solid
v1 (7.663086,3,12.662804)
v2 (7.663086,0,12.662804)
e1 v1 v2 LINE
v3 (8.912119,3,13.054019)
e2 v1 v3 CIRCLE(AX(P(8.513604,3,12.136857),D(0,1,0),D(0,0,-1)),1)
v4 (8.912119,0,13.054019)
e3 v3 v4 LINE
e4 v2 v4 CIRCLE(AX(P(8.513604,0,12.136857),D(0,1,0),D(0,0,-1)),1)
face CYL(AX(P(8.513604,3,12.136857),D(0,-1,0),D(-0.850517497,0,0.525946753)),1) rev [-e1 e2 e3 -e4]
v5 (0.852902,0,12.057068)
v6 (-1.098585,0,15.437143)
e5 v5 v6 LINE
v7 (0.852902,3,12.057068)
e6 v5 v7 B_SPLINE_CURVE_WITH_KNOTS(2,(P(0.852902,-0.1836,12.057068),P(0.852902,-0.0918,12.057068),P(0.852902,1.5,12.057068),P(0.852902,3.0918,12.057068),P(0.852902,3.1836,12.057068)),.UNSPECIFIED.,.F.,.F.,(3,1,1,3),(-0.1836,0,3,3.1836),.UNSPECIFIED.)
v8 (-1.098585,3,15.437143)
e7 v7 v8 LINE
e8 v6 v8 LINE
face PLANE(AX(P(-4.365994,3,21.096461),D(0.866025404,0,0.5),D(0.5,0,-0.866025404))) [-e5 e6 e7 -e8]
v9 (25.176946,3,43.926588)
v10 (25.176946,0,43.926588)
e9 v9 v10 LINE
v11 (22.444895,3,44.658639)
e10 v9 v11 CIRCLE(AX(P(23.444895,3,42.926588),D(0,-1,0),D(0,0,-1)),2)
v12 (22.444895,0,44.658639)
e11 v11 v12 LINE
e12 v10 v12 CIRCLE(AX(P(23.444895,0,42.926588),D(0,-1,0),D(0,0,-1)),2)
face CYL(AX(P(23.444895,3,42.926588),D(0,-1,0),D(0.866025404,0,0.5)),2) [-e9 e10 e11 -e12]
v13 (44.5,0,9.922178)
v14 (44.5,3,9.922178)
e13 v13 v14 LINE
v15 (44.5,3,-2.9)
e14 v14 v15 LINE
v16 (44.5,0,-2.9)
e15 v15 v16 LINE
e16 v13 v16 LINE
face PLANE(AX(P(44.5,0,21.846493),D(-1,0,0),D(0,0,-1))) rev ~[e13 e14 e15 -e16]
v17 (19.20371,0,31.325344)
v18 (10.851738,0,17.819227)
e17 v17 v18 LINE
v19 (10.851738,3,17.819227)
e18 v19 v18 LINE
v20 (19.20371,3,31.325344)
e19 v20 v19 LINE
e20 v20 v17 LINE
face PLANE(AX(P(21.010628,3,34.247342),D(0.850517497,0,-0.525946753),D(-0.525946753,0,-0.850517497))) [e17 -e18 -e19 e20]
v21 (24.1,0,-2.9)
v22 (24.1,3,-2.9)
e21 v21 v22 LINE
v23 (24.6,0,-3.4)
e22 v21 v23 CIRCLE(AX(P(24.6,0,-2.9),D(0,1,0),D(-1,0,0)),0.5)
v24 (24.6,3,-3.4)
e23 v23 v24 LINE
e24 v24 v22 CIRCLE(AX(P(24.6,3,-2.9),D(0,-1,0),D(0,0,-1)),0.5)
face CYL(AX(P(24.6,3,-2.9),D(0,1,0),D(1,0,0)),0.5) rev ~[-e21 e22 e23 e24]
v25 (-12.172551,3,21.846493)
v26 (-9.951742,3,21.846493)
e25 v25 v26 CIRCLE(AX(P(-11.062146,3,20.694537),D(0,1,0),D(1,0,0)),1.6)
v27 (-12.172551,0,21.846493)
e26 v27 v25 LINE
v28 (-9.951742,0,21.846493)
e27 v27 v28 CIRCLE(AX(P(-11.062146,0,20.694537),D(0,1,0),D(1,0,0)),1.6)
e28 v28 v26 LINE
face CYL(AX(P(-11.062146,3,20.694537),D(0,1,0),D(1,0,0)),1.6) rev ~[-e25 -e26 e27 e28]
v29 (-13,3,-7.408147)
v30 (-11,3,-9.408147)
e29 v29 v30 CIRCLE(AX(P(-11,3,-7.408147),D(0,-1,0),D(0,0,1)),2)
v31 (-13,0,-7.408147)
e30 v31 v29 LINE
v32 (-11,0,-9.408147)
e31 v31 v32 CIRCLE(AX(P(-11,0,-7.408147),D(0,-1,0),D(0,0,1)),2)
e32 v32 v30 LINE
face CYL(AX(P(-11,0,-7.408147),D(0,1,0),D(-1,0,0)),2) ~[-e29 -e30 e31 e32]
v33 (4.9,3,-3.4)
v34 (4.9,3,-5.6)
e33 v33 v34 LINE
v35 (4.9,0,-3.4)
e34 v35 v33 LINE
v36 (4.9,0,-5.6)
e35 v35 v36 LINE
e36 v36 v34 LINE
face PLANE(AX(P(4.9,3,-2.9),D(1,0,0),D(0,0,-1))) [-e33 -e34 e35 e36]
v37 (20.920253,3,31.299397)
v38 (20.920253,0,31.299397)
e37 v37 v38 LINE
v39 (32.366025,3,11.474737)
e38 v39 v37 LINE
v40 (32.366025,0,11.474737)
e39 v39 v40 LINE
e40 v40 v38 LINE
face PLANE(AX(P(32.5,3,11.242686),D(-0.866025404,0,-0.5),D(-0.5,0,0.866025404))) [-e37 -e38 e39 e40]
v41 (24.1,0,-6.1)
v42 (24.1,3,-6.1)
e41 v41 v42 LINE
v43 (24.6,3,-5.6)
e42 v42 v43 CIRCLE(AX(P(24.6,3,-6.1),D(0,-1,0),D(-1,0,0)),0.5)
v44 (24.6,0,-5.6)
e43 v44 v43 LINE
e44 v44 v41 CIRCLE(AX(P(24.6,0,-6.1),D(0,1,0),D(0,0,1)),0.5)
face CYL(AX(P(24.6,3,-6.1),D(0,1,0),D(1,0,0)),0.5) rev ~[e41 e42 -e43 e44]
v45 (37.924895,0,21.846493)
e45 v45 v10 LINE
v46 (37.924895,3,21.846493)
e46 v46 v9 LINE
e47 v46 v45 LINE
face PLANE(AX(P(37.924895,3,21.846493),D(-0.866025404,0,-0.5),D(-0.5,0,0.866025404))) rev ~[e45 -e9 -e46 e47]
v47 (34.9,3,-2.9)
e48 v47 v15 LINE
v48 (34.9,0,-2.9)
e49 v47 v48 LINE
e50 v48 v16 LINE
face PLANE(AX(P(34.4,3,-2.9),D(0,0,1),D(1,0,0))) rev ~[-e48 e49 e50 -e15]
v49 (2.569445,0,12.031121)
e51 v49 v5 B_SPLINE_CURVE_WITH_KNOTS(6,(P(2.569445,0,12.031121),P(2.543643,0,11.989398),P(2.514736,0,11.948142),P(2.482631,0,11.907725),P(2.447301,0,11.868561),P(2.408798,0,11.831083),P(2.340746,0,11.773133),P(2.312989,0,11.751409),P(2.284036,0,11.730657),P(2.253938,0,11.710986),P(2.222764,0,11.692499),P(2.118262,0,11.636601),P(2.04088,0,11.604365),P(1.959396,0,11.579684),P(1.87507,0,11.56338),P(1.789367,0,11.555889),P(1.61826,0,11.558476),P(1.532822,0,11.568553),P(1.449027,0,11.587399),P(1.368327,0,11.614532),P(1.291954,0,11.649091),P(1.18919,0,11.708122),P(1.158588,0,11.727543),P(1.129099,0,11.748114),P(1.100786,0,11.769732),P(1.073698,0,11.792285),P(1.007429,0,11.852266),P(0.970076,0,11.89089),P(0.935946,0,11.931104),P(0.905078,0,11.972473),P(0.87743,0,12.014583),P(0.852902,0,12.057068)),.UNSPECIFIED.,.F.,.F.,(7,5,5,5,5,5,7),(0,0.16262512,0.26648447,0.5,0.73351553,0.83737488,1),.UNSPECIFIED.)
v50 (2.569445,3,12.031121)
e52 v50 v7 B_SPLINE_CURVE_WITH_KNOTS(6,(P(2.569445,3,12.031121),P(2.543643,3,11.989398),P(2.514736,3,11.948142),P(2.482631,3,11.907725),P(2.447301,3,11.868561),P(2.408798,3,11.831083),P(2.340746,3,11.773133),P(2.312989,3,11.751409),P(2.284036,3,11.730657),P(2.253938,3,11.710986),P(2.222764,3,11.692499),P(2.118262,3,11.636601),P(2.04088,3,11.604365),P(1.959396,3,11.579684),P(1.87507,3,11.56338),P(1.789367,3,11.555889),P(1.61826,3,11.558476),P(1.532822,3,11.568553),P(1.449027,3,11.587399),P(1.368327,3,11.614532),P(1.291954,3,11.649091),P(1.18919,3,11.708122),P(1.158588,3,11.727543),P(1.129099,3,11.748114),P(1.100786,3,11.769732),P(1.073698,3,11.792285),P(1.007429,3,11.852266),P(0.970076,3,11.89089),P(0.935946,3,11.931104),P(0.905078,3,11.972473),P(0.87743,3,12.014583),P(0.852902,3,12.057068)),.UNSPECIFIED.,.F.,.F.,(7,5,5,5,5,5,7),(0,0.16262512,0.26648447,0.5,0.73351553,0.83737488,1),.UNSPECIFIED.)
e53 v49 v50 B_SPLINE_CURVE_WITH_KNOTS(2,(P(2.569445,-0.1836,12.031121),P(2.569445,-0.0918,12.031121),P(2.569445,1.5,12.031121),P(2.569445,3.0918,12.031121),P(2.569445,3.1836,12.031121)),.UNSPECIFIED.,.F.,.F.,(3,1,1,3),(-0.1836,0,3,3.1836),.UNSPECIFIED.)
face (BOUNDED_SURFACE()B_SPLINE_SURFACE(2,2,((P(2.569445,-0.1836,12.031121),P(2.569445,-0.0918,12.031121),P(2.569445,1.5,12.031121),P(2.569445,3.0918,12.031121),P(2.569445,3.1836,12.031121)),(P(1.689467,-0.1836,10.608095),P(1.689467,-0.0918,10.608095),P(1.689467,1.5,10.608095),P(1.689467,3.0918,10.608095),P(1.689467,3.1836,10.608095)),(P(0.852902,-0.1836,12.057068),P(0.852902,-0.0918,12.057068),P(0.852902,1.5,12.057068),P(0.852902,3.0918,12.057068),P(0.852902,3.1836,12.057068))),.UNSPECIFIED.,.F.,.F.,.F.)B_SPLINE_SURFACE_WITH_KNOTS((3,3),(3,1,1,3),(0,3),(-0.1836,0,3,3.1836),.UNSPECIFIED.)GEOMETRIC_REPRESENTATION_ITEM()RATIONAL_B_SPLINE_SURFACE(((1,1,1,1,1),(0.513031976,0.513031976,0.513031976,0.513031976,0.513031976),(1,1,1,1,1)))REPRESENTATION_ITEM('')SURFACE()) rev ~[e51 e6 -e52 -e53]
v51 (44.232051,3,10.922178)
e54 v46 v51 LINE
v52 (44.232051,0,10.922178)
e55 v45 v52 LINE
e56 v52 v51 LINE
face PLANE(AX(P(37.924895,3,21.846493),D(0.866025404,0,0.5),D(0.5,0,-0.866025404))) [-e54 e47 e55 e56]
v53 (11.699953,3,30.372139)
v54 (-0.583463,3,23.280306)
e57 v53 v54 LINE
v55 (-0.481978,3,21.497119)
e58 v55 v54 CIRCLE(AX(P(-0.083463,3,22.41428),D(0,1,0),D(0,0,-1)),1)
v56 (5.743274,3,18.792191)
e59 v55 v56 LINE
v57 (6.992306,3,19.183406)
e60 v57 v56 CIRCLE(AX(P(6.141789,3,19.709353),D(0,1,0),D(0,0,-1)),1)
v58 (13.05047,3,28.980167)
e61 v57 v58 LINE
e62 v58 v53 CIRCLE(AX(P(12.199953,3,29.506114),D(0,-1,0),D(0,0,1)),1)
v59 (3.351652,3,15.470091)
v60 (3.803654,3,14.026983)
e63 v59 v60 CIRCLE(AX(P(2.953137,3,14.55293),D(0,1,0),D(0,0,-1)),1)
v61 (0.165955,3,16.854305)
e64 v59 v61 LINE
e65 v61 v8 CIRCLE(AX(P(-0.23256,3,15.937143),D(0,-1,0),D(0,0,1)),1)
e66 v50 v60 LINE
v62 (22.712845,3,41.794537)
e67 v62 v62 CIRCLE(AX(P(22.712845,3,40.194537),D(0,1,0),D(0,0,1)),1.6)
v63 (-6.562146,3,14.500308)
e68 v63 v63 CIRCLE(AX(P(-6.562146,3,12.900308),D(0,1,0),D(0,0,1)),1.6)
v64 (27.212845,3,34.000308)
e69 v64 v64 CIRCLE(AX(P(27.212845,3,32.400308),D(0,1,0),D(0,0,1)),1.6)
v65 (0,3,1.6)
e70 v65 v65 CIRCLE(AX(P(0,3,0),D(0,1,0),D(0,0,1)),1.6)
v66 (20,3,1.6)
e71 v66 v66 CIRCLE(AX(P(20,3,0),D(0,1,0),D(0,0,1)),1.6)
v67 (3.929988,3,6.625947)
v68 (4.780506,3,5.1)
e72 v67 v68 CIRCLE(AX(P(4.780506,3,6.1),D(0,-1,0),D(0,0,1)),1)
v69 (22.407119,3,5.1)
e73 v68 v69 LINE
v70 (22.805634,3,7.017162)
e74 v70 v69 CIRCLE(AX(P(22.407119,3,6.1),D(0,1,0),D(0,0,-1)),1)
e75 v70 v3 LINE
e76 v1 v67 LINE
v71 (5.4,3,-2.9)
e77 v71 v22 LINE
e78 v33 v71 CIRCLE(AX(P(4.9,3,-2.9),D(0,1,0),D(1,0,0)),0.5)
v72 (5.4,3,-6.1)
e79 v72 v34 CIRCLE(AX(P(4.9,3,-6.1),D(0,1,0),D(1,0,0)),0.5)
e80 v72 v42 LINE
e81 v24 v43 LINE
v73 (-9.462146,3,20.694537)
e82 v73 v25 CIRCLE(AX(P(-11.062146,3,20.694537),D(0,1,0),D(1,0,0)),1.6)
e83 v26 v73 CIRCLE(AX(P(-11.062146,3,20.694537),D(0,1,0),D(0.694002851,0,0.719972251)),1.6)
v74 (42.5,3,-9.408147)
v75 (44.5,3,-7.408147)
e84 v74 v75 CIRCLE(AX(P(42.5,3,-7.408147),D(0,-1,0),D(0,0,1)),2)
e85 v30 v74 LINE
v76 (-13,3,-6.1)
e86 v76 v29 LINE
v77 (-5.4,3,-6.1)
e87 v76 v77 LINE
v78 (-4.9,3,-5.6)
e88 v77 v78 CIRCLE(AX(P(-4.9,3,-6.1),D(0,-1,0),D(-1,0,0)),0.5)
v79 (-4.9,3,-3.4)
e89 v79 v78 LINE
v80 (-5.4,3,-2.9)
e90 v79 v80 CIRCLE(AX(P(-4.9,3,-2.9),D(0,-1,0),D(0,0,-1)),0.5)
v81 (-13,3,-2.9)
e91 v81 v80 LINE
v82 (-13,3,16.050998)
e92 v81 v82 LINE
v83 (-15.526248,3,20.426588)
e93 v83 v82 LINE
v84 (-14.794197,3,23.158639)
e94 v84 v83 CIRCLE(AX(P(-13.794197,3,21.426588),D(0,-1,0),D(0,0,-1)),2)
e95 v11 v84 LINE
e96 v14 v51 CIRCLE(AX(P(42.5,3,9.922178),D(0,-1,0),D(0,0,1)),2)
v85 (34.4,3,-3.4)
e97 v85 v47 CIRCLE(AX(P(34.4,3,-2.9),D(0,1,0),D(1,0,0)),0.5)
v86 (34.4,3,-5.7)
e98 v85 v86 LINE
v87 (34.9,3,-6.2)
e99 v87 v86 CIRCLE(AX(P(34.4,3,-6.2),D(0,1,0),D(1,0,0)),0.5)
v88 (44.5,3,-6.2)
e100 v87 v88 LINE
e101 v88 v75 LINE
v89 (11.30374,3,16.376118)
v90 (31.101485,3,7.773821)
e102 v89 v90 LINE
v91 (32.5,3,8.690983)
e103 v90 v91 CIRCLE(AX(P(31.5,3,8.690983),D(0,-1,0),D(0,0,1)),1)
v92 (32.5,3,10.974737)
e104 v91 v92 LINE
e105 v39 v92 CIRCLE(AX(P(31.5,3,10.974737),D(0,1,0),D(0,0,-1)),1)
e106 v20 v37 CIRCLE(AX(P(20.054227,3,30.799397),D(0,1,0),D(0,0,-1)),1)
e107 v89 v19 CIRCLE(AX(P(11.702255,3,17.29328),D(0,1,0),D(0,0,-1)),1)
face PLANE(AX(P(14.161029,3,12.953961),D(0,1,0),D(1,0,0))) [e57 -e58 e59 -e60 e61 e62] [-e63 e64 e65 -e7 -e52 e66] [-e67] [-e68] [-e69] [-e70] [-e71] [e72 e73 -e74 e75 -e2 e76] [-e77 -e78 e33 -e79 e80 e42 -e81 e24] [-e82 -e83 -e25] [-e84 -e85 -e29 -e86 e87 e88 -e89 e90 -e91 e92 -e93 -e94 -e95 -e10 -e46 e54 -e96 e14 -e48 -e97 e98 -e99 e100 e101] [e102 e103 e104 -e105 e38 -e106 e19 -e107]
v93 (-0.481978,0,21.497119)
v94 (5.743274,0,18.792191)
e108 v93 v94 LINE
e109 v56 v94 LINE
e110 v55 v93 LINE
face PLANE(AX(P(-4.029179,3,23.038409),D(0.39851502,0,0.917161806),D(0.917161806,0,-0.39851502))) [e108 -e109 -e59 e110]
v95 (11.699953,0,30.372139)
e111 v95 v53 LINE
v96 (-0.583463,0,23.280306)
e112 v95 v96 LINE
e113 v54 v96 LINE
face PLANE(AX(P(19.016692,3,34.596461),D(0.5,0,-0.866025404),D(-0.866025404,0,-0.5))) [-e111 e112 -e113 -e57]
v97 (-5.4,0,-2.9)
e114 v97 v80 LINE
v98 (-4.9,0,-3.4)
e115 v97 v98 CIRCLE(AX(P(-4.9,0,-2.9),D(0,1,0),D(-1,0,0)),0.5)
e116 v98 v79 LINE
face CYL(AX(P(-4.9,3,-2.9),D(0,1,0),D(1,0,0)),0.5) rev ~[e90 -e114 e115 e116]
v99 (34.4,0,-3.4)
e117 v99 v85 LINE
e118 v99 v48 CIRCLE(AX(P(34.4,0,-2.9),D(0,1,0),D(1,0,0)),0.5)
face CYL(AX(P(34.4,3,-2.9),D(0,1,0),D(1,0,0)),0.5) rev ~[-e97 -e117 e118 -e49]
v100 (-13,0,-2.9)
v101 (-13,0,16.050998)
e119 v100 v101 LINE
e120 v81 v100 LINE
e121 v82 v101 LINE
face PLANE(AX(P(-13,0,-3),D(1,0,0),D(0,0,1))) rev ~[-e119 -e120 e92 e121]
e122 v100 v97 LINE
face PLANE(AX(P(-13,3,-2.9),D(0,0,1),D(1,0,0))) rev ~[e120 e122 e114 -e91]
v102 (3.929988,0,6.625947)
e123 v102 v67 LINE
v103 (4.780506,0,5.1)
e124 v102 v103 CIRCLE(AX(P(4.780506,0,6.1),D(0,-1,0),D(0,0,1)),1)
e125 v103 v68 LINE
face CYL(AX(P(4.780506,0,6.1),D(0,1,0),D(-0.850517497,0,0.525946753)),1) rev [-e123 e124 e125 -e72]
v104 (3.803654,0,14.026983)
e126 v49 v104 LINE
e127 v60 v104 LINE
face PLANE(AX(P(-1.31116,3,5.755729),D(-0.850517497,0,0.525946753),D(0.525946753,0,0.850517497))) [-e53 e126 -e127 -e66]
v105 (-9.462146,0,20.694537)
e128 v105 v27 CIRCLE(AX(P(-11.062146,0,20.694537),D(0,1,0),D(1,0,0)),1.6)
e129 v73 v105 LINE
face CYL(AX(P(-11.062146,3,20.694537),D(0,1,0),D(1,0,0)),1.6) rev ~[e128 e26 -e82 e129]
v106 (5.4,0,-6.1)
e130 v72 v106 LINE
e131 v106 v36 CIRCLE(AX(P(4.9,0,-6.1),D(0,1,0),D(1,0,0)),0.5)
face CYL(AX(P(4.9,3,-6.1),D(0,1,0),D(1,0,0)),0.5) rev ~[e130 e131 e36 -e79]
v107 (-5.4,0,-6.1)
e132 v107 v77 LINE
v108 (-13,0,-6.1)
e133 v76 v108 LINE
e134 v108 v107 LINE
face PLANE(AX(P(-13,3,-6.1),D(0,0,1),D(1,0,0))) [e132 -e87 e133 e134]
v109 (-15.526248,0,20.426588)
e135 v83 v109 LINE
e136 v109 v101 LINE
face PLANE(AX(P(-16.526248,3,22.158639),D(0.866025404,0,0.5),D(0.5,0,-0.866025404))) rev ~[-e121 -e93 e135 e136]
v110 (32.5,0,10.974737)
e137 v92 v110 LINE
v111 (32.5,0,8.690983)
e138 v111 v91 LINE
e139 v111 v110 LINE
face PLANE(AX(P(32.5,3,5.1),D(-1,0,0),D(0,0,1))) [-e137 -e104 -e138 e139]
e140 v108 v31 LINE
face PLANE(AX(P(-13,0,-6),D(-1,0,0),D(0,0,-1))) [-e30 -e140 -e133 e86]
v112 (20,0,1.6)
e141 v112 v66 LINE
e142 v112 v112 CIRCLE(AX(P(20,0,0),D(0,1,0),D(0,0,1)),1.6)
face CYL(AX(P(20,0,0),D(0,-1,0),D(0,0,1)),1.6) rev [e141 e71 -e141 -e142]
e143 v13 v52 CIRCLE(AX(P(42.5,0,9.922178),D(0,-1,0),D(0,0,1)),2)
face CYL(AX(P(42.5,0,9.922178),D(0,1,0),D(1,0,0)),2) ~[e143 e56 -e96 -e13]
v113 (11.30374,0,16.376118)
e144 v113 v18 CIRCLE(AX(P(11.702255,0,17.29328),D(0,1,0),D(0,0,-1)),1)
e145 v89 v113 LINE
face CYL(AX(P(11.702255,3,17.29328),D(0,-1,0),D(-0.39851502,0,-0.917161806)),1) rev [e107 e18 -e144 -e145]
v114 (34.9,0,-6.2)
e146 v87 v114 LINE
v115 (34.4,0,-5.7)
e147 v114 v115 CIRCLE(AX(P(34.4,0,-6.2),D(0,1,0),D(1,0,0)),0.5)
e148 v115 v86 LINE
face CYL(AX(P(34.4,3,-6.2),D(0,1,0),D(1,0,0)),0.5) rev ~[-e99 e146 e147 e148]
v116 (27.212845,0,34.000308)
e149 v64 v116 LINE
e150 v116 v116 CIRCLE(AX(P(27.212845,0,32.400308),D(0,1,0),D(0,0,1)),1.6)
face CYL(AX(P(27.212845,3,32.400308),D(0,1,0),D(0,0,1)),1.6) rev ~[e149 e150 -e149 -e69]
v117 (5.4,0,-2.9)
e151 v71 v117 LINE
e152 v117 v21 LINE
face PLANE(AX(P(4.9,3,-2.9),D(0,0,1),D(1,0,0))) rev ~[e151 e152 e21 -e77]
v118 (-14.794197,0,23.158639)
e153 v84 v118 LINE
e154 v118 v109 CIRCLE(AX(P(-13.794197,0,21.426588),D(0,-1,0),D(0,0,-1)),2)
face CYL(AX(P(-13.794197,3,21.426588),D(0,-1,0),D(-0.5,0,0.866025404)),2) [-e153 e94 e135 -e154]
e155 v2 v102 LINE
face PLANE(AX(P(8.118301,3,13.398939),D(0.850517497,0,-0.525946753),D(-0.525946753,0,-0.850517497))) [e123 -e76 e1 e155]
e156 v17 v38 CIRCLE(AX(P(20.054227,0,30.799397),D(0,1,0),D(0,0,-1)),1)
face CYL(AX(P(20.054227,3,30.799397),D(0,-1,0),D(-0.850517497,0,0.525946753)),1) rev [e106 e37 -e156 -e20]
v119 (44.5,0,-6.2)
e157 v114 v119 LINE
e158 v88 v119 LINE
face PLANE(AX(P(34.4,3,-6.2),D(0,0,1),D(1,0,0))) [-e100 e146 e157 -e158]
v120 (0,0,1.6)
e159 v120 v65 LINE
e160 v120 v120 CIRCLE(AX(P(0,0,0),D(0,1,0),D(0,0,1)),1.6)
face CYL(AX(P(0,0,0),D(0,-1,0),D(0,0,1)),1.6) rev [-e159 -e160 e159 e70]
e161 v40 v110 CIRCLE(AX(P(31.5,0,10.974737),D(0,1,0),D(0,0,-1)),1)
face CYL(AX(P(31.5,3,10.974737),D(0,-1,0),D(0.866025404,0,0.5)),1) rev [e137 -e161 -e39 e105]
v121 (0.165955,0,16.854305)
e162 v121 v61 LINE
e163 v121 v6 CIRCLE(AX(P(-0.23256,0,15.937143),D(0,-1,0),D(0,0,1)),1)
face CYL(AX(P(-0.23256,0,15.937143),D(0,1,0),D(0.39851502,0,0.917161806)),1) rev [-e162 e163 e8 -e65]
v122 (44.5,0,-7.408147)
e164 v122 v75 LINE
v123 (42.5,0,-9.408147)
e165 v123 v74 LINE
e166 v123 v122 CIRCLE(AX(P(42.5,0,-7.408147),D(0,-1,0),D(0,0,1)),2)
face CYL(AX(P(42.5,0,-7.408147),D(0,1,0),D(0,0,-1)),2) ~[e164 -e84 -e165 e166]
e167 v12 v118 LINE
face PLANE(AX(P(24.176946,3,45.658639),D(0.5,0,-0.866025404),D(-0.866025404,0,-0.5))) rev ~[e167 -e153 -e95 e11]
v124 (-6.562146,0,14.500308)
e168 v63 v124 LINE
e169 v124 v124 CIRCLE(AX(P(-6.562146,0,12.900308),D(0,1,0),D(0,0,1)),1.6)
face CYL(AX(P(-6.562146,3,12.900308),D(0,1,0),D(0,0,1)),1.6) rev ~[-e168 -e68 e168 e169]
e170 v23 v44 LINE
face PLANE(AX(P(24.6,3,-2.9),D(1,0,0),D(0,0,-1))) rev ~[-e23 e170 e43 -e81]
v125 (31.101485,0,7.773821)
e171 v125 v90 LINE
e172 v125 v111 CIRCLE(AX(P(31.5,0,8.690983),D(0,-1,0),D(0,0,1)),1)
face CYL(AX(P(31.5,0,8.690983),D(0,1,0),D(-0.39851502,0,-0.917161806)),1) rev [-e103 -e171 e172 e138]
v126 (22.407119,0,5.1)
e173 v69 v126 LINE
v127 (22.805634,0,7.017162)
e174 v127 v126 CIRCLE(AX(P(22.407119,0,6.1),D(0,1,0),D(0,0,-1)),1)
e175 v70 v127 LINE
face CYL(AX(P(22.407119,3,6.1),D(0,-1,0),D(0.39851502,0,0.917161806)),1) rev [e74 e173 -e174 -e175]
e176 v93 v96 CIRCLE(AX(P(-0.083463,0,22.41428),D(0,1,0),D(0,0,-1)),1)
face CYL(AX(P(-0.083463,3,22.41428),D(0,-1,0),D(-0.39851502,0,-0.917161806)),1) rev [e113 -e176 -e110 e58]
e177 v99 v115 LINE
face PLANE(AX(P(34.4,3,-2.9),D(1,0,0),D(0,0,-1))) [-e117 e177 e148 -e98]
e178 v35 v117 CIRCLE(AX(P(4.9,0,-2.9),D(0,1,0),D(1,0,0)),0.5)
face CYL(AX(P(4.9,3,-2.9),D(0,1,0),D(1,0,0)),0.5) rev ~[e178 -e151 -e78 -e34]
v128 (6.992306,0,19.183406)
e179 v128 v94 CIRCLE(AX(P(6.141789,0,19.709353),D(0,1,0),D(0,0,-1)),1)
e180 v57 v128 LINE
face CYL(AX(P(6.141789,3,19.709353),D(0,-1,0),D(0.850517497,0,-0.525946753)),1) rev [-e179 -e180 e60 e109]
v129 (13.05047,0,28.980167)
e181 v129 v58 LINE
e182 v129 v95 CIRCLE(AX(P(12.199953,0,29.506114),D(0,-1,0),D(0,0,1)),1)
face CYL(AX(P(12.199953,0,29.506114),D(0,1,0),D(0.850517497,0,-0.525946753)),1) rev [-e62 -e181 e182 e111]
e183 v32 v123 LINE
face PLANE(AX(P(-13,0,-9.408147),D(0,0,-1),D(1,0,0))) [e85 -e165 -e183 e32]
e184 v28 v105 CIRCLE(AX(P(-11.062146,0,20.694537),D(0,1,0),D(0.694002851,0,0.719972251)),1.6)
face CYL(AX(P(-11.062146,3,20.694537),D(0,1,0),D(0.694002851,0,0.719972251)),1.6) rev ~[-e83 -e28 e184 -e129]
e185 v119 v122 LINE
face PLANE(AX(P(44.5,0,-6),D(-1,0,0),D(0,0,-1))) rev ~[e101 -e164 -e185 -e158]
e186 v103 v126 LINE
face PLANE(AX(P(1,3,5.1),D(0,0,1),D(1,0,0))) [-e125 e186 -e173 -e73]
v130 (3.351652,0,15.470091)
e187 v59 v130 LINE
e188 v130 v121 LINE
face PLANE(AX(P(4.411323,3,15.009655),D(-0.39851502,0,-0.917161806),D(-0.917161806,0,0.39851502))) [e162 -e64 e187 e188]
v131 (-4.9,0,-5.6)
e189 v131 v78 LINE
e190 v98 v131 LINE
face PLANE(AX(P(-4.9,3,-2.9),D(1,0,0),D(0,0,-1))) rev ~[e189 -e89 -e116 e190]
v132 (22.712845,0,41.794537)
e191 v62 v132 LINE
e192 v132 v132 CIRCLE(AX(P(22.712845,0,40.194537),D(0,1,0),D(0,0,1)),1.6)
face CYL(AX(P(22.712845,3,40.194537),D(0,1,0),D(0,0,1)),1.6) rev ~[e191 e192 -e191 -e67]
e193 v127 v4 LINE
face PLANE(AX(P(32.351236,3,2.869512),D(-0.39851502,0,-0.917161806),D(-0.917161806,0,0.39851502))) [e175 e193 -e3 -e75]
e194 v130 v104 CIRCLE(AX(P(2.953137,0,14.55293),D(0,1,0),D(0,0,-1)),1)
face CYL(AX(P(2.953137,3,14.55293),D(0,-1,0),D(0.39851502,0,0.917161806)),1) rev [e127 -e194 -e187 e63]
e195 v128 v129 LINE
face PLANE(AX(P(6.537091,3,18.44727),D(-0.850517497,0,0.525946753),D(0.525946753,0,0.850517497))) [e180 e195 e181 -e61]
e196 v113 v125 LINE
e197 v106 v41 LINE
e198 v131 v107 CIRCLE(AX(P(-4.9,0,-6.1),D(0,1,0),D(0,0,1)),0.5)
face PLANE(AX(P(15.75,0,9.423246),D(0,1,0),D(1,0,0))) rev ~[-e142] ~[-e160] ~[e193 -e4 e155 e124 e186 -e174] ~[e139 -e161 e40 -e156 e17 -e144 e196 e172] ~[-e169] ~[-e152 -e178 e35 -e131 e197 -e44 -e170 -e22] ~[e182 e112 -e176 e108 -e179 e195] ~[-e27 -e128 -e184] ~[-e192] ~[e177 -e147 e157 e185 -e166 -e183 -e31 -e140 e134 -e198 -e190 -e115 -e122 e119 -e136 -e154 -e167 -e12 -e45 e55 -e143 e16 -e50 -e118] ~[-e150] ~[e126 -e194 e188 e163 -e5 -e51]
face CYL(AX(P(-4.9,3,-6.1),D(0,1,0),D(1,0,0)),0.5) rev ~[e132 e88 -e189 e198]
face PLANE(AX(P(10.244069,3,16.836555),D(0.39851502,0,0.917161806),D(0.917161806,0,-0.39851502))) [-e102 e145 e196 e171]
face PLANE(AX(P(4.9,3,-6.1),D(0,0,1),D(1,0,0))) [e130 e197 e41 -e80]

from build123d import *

# Parameters (mm, degrees)
SKETCH1_W           = 57.5
SKETCH1_H           = 3.408146715
SKETCH1_W_2         = 10
SKETCH1_H_2         = 3
SKETCH1_R           = 1.6
BOSS_EXTRUDE1_DEPTH = 3
SKETCH3_W           = 8.1
SKETCH3_H           = 3.2
SKETCH3_W_2         = 10.1
SKETCH3_H_2         = 3.3
SKETCH3_W_3         = 19.7
SKETCH3_W_4         = 19.5
SKETCH3_H_3         = 3
CUT_EXTRUDE1_DEPTH  = 3
SKETCH4_R           = 0.5
CUT_EXTRUDE2_DEPTH  = 3
SKETCH6_R           = 1.6
BOSS_EXTRUDE2_DEPTH = 3
SKETCH6_2_R         = 1.6
CUT_EXTRUDE3_DEPTH  = 3
CUT_EXTRUDE4_DEPTH  = 3
FILLET1_R           = 2
CUT_EXTRUDE5_DEPTH  = 3
EXTRUDE_THIN1_DEPTH = 3
FILLET2_R           = 1
BOSS_EXTRUDE3_DEPTH = 3
FILLET3_R           = 1


with BuildPart() as part:
    # Sketch1 → Boss-Extrude1 (new body)
    # profile 1 of 4: a face of its own
    with BuildSketch(Plane(origin=(0, 0, 0), x_dir=(1, 0, 0), z_dir=(0, 1, 0))):
        with Locations((15.75, 7.704073358)):
            Rectangle(SKETCH1_W, SKETCH1_H)
    # profile 2 of 4: a face of its own
    with BuildSketch(Plane(origin=(0, 0, 0), x_dir=(1, 0, 0), z_dir=(0, 1, 0))):
        with Locations((0, 4.5)):
            Rectangle(SKETCH1_W_2, SKETCH1_H_2)
    # profile 3 of 4: a face of its own
    with BuildSketch(Plane(origin=(0, 0, 0), x_dir=(1, 0, 0), z_dir=(0, 1, 0))):
        with Locations((29.5, 4.5)):
            Rectangle(SKETCH1_W_2, SKETCH1_H_2)
    # profile 4 of 4: a face of its own
    with BuildSketch(Plane(origin=(0, 0, 0), x_dir=(1, 0, 0), z_dir=(0, 1, 0))):
        Polygon((5, 3), (-5, 3), (-13, 3), (-13, -21.846492531), (44.5, -21.846492531), (44.5, 3), (34.5, 3), (24.5, 3), align=None)
        with Locations(Location((0, 0, 0), (0, 0, 270))):
            Circle(SKETCH1_R, mode=Mode.SUBTRACT)
        with Locations(Location((20, 0, 0), (0, 0, 270))):
            Circle(SKETCH1_R, mode=Mode.SUBTRACT)
    extrude(amount=BOSS_EXTRUDE1_DEPTH)

    # Sketch3 → Cut-Extrude1 (cut)
    # profile 1 of 3: a face of its own
    with BuildSketch(Plane(origin=(0, 3, 0), x_dir=(1, 0, 0), z_dir=(0, 1, 0))):
        with Locations((-8.95, 4.5)):
            Rectangle(SKETCH3_W, SKETCH3_H)
    # profile 2 of 3: a face of its own
    with BuildSketch(Plane(origin=(0, 3, 0), x_dir=(1, 0, 0), z_dir=(0, 1, 0))):
        with Locations((39.45, 4.55)):
            Rectangle(SKETCH3_W_2, SKETCH3_H_2)
    # profile 3 of 3: a face of its own
    with BuildSketch(Plane(origin=(0, 3, 0), x_dir=(1, 0, 0), z_dir=(0, 1, 0))):
        with Locations((14.75, 4.5)):
            Rectangle(SKETCH3_W_3, SKETCH3_H)
        with Locations((14.75, 4.5)):
            Rectangle(SKETCH3_W_4, SKETCH3_H_3, mode=Mode.SUBTRACT)
    extrude(amount=-CUT_EXTRUDE1_DEPTH, mode=Mode.SUBTRACT)

    # Sketch4 → Cut-Extrude2 (cut)
    with BuildSketch(Plane(origin=(0, 3, 0), x_dir=(1, 0, 0), z_dir=(0, 1, 0))):
        with Locations((-4.9, 6.1)):
            Circle(SKETCH4_R)
        with Locations((-4.9, 2.9)):
            Circle(SKETCH4_R)
        with Locations((4.9, 6.1)):
            Circle(SKETCH4_R)
        with Locations((4.9, 2.9)):
            Circle(SKETCH4_R)
        with Locations((24.6, 6.1)):
            Circle(SKETCH4_R)
        with Locations((24.6, 2.9)):
            Circle(SKETCH4_R)
        with Locations((34.4, 2.9)):
            Circle(SKETCH4_R)
        with Locations((34.4, 6.2)):
            Circle(SKETCH4_R)
    extrude(amount=-CUT_EXTRUDE2_DEPTH, mode=Mode.SUBTRACT)

    # Sketch6 → Boss-Extrude2 (add)
    with BuildSketch(Plane(origin=(0, 3, 0), x_dir=(1, 0, 0), z_dir=(0, 1, 0))):
        Polygon((-6.176738334, -4.232762247), (37.924895048, -21.846492531), (24.176946138, -45.658638544), (-16.52624784, -22.158638544), align=None)
        with Locations(Location((22.712844523, -40.194536929, 0), (0, 0, 270))):
            Circle(SKETCH6_R, mode=Mode.SUBTRACT)
        with Locations(Location((27.212844523, -32.400308295, 0), (0, 0, 270))):
            Circle(SKETCH6_R, mode=Mode.SUBTRACT)
        with Locations((-11.062146225, -20.694536929)):
            Circle(SKETCH6_R, mode=Mode.SUBTRACT)
        with Locations((-6.562146225, -12.900308295)):
            Circle(SKETCH6_R, mode=Mode.SUBTRACT)
    extrude(amount=-BOSS_EXTRUDE2_DEPTH)

    # Sketch6<2> → Cut-Extrude3 (cut)
    with BuildSketch(Plane(origin=(0, 3, 0), x_dir=(1, 0, 0), z_dir=(0, 1, 0))):
        with Locations(Location((-6.562146225, -12.900308295, 0), (0, 0, 270))):
            Circle(SKETCH6_2_R)
        with BuildLine():
            ThreePointArc((-12.172550786, -21.846492531), (-11.062146225, -22.294536929), (-9.951741663, -21.846492531))
            Line((-9.951741663, -21.846492531), (-12.172550786, -21.846492531))
        make_face()
        with BuildLine():
            Line((-12.172550786, -21.846492531), (-9.951741663, -21.846492531))
            ThreePointArc((-9.951741663, -21.846492531), (-9.589623339, -21.320377444), (-9.462146225, -20.694536929))
            ThreePointArc((-9.462146225, -20.694536929), (-11.68798674, -19.222014043), (-12.172550786, -21.846492531))
        make_face()
    extrude(amount=-CUT_EXTRUDE3_DEPTH, mode=Mode.SUBTRACT)

    # Sketch8 → Cut-Extrude4 (cut)
    with BuildSketch(Plane(origin=(0, 3, 0), x_dir=(1, 0, 0), z_dir=(0, 1, 0))):
        Polygon((37.924895048, -21.846492531), (47.152165502, -5.864391291), (51.952331521, -20.765599638), (44.5, -26.059092388), align=None)
    extrude(amount=-CUT_EXTRUDE4_DEPTH, mode=Mode.SUBTRACT)

    # Fillet1
    fillet1_edges = [part.edges().sort_by_distance(p)[0] for p in [
        (-16.52624784, 1.5, 22.158638544),
        (24.176946138, 1.5, 45.658638544),
        (44.5, 1.5, 10.45807669),
        (-13, 1.5, -9.408146715),
        (44.5, 1.5, -9.408146715),
    ]]
    fillet(fillet1_edges, radius=FILLET1_R)

    # Sketch9 → Cut-Extrude5 (cut)
    with BuildSketch(Plane(origin=(0, 3, 0), x_dir=(1, 0, 0), z_dir=(0, 1, 0))):
        Polygon((1, -5.1), (32.5, -5.1), (32.5, -11.242686381), (19.0166921, -34.596460718), (-4.365993802, -21.096460718), (1, -11.802286819), align=None)
    extrude(amount=-CUT_EXTRUDE5_DEPTH, mode=Mode.SUBTRACT)

    # Sketch10 → Extrude-Thin1 (add)
    with BuildSketch(Plane(origin=(0, 3, 0), x_dir=(1, 0, 0), z_dir=(0, 1, 0))):
        Polygon((-4.02917863, -23.038408895), (33.945296414, -6.53815934), (32.351236334, -2.869512115), (-5.623238711, -19.369761671), align=None)
        Polygon((-1.3111598, -5.755729233), (17.608558315, -36.351129247), (21.010628303, -34.247342235), (2.090910189, -3.651942221), align=None)
    extrude(amount=-EXTRUDE_THIN1_DEPTH)

    # Fillet2
    fillet2_edges = [part.edges().sort_by_distance(p)[0] for p in [
        (1, 1.5, 11.802286819),
        (32.5, 1.5, 11.242686381),
        (15.139105711, 1.5, 32.357735172),
        (-2.302171748, 1.5, 22.288008936),
        (20.083687523, 1.5, 32.748370433),
        (32.5, 1.5, 7.166153578),
        (2.986366531, 1.5, 5.1),
        (27.217883275, 1.5, 5.1),
        (-2.614232793, 1.5, 18.062321647),
        (4.411323294, 1.5, 15.009654597),
        (8.118301247, 1.5, 13.398939472),
        (10.244069028, 1.5, 16.836554938),
        (6.537091075, 1.5, 18.447270063),
    ]]
    fillet(fillet2_edges, radius=FILLET2_R)

    # Sketch11 → Boss-Extrude3 (add)
    with BuildSketch(Plane(origin=(0, 3, 0), x_dir=(1, 0, 0), z_dir=(0, 1, 0))):
        Polygon((0.814899894, -12.122889607), (2.271586452, -9.599834478), (-0.508630479, -8.514382996), align=None)
    extrude(amount=-BOSS_EXTRUDE3_DEPTH)

    # Fillet3
    fillet3_edges = [part.edges().sort_by_distance(p)[0] for p in [
        (1.689467225, 1.5, 10.608094556),
    ]]
    fillet(fillet3_edges, radius=FILLET3_R)


solid = part.part
